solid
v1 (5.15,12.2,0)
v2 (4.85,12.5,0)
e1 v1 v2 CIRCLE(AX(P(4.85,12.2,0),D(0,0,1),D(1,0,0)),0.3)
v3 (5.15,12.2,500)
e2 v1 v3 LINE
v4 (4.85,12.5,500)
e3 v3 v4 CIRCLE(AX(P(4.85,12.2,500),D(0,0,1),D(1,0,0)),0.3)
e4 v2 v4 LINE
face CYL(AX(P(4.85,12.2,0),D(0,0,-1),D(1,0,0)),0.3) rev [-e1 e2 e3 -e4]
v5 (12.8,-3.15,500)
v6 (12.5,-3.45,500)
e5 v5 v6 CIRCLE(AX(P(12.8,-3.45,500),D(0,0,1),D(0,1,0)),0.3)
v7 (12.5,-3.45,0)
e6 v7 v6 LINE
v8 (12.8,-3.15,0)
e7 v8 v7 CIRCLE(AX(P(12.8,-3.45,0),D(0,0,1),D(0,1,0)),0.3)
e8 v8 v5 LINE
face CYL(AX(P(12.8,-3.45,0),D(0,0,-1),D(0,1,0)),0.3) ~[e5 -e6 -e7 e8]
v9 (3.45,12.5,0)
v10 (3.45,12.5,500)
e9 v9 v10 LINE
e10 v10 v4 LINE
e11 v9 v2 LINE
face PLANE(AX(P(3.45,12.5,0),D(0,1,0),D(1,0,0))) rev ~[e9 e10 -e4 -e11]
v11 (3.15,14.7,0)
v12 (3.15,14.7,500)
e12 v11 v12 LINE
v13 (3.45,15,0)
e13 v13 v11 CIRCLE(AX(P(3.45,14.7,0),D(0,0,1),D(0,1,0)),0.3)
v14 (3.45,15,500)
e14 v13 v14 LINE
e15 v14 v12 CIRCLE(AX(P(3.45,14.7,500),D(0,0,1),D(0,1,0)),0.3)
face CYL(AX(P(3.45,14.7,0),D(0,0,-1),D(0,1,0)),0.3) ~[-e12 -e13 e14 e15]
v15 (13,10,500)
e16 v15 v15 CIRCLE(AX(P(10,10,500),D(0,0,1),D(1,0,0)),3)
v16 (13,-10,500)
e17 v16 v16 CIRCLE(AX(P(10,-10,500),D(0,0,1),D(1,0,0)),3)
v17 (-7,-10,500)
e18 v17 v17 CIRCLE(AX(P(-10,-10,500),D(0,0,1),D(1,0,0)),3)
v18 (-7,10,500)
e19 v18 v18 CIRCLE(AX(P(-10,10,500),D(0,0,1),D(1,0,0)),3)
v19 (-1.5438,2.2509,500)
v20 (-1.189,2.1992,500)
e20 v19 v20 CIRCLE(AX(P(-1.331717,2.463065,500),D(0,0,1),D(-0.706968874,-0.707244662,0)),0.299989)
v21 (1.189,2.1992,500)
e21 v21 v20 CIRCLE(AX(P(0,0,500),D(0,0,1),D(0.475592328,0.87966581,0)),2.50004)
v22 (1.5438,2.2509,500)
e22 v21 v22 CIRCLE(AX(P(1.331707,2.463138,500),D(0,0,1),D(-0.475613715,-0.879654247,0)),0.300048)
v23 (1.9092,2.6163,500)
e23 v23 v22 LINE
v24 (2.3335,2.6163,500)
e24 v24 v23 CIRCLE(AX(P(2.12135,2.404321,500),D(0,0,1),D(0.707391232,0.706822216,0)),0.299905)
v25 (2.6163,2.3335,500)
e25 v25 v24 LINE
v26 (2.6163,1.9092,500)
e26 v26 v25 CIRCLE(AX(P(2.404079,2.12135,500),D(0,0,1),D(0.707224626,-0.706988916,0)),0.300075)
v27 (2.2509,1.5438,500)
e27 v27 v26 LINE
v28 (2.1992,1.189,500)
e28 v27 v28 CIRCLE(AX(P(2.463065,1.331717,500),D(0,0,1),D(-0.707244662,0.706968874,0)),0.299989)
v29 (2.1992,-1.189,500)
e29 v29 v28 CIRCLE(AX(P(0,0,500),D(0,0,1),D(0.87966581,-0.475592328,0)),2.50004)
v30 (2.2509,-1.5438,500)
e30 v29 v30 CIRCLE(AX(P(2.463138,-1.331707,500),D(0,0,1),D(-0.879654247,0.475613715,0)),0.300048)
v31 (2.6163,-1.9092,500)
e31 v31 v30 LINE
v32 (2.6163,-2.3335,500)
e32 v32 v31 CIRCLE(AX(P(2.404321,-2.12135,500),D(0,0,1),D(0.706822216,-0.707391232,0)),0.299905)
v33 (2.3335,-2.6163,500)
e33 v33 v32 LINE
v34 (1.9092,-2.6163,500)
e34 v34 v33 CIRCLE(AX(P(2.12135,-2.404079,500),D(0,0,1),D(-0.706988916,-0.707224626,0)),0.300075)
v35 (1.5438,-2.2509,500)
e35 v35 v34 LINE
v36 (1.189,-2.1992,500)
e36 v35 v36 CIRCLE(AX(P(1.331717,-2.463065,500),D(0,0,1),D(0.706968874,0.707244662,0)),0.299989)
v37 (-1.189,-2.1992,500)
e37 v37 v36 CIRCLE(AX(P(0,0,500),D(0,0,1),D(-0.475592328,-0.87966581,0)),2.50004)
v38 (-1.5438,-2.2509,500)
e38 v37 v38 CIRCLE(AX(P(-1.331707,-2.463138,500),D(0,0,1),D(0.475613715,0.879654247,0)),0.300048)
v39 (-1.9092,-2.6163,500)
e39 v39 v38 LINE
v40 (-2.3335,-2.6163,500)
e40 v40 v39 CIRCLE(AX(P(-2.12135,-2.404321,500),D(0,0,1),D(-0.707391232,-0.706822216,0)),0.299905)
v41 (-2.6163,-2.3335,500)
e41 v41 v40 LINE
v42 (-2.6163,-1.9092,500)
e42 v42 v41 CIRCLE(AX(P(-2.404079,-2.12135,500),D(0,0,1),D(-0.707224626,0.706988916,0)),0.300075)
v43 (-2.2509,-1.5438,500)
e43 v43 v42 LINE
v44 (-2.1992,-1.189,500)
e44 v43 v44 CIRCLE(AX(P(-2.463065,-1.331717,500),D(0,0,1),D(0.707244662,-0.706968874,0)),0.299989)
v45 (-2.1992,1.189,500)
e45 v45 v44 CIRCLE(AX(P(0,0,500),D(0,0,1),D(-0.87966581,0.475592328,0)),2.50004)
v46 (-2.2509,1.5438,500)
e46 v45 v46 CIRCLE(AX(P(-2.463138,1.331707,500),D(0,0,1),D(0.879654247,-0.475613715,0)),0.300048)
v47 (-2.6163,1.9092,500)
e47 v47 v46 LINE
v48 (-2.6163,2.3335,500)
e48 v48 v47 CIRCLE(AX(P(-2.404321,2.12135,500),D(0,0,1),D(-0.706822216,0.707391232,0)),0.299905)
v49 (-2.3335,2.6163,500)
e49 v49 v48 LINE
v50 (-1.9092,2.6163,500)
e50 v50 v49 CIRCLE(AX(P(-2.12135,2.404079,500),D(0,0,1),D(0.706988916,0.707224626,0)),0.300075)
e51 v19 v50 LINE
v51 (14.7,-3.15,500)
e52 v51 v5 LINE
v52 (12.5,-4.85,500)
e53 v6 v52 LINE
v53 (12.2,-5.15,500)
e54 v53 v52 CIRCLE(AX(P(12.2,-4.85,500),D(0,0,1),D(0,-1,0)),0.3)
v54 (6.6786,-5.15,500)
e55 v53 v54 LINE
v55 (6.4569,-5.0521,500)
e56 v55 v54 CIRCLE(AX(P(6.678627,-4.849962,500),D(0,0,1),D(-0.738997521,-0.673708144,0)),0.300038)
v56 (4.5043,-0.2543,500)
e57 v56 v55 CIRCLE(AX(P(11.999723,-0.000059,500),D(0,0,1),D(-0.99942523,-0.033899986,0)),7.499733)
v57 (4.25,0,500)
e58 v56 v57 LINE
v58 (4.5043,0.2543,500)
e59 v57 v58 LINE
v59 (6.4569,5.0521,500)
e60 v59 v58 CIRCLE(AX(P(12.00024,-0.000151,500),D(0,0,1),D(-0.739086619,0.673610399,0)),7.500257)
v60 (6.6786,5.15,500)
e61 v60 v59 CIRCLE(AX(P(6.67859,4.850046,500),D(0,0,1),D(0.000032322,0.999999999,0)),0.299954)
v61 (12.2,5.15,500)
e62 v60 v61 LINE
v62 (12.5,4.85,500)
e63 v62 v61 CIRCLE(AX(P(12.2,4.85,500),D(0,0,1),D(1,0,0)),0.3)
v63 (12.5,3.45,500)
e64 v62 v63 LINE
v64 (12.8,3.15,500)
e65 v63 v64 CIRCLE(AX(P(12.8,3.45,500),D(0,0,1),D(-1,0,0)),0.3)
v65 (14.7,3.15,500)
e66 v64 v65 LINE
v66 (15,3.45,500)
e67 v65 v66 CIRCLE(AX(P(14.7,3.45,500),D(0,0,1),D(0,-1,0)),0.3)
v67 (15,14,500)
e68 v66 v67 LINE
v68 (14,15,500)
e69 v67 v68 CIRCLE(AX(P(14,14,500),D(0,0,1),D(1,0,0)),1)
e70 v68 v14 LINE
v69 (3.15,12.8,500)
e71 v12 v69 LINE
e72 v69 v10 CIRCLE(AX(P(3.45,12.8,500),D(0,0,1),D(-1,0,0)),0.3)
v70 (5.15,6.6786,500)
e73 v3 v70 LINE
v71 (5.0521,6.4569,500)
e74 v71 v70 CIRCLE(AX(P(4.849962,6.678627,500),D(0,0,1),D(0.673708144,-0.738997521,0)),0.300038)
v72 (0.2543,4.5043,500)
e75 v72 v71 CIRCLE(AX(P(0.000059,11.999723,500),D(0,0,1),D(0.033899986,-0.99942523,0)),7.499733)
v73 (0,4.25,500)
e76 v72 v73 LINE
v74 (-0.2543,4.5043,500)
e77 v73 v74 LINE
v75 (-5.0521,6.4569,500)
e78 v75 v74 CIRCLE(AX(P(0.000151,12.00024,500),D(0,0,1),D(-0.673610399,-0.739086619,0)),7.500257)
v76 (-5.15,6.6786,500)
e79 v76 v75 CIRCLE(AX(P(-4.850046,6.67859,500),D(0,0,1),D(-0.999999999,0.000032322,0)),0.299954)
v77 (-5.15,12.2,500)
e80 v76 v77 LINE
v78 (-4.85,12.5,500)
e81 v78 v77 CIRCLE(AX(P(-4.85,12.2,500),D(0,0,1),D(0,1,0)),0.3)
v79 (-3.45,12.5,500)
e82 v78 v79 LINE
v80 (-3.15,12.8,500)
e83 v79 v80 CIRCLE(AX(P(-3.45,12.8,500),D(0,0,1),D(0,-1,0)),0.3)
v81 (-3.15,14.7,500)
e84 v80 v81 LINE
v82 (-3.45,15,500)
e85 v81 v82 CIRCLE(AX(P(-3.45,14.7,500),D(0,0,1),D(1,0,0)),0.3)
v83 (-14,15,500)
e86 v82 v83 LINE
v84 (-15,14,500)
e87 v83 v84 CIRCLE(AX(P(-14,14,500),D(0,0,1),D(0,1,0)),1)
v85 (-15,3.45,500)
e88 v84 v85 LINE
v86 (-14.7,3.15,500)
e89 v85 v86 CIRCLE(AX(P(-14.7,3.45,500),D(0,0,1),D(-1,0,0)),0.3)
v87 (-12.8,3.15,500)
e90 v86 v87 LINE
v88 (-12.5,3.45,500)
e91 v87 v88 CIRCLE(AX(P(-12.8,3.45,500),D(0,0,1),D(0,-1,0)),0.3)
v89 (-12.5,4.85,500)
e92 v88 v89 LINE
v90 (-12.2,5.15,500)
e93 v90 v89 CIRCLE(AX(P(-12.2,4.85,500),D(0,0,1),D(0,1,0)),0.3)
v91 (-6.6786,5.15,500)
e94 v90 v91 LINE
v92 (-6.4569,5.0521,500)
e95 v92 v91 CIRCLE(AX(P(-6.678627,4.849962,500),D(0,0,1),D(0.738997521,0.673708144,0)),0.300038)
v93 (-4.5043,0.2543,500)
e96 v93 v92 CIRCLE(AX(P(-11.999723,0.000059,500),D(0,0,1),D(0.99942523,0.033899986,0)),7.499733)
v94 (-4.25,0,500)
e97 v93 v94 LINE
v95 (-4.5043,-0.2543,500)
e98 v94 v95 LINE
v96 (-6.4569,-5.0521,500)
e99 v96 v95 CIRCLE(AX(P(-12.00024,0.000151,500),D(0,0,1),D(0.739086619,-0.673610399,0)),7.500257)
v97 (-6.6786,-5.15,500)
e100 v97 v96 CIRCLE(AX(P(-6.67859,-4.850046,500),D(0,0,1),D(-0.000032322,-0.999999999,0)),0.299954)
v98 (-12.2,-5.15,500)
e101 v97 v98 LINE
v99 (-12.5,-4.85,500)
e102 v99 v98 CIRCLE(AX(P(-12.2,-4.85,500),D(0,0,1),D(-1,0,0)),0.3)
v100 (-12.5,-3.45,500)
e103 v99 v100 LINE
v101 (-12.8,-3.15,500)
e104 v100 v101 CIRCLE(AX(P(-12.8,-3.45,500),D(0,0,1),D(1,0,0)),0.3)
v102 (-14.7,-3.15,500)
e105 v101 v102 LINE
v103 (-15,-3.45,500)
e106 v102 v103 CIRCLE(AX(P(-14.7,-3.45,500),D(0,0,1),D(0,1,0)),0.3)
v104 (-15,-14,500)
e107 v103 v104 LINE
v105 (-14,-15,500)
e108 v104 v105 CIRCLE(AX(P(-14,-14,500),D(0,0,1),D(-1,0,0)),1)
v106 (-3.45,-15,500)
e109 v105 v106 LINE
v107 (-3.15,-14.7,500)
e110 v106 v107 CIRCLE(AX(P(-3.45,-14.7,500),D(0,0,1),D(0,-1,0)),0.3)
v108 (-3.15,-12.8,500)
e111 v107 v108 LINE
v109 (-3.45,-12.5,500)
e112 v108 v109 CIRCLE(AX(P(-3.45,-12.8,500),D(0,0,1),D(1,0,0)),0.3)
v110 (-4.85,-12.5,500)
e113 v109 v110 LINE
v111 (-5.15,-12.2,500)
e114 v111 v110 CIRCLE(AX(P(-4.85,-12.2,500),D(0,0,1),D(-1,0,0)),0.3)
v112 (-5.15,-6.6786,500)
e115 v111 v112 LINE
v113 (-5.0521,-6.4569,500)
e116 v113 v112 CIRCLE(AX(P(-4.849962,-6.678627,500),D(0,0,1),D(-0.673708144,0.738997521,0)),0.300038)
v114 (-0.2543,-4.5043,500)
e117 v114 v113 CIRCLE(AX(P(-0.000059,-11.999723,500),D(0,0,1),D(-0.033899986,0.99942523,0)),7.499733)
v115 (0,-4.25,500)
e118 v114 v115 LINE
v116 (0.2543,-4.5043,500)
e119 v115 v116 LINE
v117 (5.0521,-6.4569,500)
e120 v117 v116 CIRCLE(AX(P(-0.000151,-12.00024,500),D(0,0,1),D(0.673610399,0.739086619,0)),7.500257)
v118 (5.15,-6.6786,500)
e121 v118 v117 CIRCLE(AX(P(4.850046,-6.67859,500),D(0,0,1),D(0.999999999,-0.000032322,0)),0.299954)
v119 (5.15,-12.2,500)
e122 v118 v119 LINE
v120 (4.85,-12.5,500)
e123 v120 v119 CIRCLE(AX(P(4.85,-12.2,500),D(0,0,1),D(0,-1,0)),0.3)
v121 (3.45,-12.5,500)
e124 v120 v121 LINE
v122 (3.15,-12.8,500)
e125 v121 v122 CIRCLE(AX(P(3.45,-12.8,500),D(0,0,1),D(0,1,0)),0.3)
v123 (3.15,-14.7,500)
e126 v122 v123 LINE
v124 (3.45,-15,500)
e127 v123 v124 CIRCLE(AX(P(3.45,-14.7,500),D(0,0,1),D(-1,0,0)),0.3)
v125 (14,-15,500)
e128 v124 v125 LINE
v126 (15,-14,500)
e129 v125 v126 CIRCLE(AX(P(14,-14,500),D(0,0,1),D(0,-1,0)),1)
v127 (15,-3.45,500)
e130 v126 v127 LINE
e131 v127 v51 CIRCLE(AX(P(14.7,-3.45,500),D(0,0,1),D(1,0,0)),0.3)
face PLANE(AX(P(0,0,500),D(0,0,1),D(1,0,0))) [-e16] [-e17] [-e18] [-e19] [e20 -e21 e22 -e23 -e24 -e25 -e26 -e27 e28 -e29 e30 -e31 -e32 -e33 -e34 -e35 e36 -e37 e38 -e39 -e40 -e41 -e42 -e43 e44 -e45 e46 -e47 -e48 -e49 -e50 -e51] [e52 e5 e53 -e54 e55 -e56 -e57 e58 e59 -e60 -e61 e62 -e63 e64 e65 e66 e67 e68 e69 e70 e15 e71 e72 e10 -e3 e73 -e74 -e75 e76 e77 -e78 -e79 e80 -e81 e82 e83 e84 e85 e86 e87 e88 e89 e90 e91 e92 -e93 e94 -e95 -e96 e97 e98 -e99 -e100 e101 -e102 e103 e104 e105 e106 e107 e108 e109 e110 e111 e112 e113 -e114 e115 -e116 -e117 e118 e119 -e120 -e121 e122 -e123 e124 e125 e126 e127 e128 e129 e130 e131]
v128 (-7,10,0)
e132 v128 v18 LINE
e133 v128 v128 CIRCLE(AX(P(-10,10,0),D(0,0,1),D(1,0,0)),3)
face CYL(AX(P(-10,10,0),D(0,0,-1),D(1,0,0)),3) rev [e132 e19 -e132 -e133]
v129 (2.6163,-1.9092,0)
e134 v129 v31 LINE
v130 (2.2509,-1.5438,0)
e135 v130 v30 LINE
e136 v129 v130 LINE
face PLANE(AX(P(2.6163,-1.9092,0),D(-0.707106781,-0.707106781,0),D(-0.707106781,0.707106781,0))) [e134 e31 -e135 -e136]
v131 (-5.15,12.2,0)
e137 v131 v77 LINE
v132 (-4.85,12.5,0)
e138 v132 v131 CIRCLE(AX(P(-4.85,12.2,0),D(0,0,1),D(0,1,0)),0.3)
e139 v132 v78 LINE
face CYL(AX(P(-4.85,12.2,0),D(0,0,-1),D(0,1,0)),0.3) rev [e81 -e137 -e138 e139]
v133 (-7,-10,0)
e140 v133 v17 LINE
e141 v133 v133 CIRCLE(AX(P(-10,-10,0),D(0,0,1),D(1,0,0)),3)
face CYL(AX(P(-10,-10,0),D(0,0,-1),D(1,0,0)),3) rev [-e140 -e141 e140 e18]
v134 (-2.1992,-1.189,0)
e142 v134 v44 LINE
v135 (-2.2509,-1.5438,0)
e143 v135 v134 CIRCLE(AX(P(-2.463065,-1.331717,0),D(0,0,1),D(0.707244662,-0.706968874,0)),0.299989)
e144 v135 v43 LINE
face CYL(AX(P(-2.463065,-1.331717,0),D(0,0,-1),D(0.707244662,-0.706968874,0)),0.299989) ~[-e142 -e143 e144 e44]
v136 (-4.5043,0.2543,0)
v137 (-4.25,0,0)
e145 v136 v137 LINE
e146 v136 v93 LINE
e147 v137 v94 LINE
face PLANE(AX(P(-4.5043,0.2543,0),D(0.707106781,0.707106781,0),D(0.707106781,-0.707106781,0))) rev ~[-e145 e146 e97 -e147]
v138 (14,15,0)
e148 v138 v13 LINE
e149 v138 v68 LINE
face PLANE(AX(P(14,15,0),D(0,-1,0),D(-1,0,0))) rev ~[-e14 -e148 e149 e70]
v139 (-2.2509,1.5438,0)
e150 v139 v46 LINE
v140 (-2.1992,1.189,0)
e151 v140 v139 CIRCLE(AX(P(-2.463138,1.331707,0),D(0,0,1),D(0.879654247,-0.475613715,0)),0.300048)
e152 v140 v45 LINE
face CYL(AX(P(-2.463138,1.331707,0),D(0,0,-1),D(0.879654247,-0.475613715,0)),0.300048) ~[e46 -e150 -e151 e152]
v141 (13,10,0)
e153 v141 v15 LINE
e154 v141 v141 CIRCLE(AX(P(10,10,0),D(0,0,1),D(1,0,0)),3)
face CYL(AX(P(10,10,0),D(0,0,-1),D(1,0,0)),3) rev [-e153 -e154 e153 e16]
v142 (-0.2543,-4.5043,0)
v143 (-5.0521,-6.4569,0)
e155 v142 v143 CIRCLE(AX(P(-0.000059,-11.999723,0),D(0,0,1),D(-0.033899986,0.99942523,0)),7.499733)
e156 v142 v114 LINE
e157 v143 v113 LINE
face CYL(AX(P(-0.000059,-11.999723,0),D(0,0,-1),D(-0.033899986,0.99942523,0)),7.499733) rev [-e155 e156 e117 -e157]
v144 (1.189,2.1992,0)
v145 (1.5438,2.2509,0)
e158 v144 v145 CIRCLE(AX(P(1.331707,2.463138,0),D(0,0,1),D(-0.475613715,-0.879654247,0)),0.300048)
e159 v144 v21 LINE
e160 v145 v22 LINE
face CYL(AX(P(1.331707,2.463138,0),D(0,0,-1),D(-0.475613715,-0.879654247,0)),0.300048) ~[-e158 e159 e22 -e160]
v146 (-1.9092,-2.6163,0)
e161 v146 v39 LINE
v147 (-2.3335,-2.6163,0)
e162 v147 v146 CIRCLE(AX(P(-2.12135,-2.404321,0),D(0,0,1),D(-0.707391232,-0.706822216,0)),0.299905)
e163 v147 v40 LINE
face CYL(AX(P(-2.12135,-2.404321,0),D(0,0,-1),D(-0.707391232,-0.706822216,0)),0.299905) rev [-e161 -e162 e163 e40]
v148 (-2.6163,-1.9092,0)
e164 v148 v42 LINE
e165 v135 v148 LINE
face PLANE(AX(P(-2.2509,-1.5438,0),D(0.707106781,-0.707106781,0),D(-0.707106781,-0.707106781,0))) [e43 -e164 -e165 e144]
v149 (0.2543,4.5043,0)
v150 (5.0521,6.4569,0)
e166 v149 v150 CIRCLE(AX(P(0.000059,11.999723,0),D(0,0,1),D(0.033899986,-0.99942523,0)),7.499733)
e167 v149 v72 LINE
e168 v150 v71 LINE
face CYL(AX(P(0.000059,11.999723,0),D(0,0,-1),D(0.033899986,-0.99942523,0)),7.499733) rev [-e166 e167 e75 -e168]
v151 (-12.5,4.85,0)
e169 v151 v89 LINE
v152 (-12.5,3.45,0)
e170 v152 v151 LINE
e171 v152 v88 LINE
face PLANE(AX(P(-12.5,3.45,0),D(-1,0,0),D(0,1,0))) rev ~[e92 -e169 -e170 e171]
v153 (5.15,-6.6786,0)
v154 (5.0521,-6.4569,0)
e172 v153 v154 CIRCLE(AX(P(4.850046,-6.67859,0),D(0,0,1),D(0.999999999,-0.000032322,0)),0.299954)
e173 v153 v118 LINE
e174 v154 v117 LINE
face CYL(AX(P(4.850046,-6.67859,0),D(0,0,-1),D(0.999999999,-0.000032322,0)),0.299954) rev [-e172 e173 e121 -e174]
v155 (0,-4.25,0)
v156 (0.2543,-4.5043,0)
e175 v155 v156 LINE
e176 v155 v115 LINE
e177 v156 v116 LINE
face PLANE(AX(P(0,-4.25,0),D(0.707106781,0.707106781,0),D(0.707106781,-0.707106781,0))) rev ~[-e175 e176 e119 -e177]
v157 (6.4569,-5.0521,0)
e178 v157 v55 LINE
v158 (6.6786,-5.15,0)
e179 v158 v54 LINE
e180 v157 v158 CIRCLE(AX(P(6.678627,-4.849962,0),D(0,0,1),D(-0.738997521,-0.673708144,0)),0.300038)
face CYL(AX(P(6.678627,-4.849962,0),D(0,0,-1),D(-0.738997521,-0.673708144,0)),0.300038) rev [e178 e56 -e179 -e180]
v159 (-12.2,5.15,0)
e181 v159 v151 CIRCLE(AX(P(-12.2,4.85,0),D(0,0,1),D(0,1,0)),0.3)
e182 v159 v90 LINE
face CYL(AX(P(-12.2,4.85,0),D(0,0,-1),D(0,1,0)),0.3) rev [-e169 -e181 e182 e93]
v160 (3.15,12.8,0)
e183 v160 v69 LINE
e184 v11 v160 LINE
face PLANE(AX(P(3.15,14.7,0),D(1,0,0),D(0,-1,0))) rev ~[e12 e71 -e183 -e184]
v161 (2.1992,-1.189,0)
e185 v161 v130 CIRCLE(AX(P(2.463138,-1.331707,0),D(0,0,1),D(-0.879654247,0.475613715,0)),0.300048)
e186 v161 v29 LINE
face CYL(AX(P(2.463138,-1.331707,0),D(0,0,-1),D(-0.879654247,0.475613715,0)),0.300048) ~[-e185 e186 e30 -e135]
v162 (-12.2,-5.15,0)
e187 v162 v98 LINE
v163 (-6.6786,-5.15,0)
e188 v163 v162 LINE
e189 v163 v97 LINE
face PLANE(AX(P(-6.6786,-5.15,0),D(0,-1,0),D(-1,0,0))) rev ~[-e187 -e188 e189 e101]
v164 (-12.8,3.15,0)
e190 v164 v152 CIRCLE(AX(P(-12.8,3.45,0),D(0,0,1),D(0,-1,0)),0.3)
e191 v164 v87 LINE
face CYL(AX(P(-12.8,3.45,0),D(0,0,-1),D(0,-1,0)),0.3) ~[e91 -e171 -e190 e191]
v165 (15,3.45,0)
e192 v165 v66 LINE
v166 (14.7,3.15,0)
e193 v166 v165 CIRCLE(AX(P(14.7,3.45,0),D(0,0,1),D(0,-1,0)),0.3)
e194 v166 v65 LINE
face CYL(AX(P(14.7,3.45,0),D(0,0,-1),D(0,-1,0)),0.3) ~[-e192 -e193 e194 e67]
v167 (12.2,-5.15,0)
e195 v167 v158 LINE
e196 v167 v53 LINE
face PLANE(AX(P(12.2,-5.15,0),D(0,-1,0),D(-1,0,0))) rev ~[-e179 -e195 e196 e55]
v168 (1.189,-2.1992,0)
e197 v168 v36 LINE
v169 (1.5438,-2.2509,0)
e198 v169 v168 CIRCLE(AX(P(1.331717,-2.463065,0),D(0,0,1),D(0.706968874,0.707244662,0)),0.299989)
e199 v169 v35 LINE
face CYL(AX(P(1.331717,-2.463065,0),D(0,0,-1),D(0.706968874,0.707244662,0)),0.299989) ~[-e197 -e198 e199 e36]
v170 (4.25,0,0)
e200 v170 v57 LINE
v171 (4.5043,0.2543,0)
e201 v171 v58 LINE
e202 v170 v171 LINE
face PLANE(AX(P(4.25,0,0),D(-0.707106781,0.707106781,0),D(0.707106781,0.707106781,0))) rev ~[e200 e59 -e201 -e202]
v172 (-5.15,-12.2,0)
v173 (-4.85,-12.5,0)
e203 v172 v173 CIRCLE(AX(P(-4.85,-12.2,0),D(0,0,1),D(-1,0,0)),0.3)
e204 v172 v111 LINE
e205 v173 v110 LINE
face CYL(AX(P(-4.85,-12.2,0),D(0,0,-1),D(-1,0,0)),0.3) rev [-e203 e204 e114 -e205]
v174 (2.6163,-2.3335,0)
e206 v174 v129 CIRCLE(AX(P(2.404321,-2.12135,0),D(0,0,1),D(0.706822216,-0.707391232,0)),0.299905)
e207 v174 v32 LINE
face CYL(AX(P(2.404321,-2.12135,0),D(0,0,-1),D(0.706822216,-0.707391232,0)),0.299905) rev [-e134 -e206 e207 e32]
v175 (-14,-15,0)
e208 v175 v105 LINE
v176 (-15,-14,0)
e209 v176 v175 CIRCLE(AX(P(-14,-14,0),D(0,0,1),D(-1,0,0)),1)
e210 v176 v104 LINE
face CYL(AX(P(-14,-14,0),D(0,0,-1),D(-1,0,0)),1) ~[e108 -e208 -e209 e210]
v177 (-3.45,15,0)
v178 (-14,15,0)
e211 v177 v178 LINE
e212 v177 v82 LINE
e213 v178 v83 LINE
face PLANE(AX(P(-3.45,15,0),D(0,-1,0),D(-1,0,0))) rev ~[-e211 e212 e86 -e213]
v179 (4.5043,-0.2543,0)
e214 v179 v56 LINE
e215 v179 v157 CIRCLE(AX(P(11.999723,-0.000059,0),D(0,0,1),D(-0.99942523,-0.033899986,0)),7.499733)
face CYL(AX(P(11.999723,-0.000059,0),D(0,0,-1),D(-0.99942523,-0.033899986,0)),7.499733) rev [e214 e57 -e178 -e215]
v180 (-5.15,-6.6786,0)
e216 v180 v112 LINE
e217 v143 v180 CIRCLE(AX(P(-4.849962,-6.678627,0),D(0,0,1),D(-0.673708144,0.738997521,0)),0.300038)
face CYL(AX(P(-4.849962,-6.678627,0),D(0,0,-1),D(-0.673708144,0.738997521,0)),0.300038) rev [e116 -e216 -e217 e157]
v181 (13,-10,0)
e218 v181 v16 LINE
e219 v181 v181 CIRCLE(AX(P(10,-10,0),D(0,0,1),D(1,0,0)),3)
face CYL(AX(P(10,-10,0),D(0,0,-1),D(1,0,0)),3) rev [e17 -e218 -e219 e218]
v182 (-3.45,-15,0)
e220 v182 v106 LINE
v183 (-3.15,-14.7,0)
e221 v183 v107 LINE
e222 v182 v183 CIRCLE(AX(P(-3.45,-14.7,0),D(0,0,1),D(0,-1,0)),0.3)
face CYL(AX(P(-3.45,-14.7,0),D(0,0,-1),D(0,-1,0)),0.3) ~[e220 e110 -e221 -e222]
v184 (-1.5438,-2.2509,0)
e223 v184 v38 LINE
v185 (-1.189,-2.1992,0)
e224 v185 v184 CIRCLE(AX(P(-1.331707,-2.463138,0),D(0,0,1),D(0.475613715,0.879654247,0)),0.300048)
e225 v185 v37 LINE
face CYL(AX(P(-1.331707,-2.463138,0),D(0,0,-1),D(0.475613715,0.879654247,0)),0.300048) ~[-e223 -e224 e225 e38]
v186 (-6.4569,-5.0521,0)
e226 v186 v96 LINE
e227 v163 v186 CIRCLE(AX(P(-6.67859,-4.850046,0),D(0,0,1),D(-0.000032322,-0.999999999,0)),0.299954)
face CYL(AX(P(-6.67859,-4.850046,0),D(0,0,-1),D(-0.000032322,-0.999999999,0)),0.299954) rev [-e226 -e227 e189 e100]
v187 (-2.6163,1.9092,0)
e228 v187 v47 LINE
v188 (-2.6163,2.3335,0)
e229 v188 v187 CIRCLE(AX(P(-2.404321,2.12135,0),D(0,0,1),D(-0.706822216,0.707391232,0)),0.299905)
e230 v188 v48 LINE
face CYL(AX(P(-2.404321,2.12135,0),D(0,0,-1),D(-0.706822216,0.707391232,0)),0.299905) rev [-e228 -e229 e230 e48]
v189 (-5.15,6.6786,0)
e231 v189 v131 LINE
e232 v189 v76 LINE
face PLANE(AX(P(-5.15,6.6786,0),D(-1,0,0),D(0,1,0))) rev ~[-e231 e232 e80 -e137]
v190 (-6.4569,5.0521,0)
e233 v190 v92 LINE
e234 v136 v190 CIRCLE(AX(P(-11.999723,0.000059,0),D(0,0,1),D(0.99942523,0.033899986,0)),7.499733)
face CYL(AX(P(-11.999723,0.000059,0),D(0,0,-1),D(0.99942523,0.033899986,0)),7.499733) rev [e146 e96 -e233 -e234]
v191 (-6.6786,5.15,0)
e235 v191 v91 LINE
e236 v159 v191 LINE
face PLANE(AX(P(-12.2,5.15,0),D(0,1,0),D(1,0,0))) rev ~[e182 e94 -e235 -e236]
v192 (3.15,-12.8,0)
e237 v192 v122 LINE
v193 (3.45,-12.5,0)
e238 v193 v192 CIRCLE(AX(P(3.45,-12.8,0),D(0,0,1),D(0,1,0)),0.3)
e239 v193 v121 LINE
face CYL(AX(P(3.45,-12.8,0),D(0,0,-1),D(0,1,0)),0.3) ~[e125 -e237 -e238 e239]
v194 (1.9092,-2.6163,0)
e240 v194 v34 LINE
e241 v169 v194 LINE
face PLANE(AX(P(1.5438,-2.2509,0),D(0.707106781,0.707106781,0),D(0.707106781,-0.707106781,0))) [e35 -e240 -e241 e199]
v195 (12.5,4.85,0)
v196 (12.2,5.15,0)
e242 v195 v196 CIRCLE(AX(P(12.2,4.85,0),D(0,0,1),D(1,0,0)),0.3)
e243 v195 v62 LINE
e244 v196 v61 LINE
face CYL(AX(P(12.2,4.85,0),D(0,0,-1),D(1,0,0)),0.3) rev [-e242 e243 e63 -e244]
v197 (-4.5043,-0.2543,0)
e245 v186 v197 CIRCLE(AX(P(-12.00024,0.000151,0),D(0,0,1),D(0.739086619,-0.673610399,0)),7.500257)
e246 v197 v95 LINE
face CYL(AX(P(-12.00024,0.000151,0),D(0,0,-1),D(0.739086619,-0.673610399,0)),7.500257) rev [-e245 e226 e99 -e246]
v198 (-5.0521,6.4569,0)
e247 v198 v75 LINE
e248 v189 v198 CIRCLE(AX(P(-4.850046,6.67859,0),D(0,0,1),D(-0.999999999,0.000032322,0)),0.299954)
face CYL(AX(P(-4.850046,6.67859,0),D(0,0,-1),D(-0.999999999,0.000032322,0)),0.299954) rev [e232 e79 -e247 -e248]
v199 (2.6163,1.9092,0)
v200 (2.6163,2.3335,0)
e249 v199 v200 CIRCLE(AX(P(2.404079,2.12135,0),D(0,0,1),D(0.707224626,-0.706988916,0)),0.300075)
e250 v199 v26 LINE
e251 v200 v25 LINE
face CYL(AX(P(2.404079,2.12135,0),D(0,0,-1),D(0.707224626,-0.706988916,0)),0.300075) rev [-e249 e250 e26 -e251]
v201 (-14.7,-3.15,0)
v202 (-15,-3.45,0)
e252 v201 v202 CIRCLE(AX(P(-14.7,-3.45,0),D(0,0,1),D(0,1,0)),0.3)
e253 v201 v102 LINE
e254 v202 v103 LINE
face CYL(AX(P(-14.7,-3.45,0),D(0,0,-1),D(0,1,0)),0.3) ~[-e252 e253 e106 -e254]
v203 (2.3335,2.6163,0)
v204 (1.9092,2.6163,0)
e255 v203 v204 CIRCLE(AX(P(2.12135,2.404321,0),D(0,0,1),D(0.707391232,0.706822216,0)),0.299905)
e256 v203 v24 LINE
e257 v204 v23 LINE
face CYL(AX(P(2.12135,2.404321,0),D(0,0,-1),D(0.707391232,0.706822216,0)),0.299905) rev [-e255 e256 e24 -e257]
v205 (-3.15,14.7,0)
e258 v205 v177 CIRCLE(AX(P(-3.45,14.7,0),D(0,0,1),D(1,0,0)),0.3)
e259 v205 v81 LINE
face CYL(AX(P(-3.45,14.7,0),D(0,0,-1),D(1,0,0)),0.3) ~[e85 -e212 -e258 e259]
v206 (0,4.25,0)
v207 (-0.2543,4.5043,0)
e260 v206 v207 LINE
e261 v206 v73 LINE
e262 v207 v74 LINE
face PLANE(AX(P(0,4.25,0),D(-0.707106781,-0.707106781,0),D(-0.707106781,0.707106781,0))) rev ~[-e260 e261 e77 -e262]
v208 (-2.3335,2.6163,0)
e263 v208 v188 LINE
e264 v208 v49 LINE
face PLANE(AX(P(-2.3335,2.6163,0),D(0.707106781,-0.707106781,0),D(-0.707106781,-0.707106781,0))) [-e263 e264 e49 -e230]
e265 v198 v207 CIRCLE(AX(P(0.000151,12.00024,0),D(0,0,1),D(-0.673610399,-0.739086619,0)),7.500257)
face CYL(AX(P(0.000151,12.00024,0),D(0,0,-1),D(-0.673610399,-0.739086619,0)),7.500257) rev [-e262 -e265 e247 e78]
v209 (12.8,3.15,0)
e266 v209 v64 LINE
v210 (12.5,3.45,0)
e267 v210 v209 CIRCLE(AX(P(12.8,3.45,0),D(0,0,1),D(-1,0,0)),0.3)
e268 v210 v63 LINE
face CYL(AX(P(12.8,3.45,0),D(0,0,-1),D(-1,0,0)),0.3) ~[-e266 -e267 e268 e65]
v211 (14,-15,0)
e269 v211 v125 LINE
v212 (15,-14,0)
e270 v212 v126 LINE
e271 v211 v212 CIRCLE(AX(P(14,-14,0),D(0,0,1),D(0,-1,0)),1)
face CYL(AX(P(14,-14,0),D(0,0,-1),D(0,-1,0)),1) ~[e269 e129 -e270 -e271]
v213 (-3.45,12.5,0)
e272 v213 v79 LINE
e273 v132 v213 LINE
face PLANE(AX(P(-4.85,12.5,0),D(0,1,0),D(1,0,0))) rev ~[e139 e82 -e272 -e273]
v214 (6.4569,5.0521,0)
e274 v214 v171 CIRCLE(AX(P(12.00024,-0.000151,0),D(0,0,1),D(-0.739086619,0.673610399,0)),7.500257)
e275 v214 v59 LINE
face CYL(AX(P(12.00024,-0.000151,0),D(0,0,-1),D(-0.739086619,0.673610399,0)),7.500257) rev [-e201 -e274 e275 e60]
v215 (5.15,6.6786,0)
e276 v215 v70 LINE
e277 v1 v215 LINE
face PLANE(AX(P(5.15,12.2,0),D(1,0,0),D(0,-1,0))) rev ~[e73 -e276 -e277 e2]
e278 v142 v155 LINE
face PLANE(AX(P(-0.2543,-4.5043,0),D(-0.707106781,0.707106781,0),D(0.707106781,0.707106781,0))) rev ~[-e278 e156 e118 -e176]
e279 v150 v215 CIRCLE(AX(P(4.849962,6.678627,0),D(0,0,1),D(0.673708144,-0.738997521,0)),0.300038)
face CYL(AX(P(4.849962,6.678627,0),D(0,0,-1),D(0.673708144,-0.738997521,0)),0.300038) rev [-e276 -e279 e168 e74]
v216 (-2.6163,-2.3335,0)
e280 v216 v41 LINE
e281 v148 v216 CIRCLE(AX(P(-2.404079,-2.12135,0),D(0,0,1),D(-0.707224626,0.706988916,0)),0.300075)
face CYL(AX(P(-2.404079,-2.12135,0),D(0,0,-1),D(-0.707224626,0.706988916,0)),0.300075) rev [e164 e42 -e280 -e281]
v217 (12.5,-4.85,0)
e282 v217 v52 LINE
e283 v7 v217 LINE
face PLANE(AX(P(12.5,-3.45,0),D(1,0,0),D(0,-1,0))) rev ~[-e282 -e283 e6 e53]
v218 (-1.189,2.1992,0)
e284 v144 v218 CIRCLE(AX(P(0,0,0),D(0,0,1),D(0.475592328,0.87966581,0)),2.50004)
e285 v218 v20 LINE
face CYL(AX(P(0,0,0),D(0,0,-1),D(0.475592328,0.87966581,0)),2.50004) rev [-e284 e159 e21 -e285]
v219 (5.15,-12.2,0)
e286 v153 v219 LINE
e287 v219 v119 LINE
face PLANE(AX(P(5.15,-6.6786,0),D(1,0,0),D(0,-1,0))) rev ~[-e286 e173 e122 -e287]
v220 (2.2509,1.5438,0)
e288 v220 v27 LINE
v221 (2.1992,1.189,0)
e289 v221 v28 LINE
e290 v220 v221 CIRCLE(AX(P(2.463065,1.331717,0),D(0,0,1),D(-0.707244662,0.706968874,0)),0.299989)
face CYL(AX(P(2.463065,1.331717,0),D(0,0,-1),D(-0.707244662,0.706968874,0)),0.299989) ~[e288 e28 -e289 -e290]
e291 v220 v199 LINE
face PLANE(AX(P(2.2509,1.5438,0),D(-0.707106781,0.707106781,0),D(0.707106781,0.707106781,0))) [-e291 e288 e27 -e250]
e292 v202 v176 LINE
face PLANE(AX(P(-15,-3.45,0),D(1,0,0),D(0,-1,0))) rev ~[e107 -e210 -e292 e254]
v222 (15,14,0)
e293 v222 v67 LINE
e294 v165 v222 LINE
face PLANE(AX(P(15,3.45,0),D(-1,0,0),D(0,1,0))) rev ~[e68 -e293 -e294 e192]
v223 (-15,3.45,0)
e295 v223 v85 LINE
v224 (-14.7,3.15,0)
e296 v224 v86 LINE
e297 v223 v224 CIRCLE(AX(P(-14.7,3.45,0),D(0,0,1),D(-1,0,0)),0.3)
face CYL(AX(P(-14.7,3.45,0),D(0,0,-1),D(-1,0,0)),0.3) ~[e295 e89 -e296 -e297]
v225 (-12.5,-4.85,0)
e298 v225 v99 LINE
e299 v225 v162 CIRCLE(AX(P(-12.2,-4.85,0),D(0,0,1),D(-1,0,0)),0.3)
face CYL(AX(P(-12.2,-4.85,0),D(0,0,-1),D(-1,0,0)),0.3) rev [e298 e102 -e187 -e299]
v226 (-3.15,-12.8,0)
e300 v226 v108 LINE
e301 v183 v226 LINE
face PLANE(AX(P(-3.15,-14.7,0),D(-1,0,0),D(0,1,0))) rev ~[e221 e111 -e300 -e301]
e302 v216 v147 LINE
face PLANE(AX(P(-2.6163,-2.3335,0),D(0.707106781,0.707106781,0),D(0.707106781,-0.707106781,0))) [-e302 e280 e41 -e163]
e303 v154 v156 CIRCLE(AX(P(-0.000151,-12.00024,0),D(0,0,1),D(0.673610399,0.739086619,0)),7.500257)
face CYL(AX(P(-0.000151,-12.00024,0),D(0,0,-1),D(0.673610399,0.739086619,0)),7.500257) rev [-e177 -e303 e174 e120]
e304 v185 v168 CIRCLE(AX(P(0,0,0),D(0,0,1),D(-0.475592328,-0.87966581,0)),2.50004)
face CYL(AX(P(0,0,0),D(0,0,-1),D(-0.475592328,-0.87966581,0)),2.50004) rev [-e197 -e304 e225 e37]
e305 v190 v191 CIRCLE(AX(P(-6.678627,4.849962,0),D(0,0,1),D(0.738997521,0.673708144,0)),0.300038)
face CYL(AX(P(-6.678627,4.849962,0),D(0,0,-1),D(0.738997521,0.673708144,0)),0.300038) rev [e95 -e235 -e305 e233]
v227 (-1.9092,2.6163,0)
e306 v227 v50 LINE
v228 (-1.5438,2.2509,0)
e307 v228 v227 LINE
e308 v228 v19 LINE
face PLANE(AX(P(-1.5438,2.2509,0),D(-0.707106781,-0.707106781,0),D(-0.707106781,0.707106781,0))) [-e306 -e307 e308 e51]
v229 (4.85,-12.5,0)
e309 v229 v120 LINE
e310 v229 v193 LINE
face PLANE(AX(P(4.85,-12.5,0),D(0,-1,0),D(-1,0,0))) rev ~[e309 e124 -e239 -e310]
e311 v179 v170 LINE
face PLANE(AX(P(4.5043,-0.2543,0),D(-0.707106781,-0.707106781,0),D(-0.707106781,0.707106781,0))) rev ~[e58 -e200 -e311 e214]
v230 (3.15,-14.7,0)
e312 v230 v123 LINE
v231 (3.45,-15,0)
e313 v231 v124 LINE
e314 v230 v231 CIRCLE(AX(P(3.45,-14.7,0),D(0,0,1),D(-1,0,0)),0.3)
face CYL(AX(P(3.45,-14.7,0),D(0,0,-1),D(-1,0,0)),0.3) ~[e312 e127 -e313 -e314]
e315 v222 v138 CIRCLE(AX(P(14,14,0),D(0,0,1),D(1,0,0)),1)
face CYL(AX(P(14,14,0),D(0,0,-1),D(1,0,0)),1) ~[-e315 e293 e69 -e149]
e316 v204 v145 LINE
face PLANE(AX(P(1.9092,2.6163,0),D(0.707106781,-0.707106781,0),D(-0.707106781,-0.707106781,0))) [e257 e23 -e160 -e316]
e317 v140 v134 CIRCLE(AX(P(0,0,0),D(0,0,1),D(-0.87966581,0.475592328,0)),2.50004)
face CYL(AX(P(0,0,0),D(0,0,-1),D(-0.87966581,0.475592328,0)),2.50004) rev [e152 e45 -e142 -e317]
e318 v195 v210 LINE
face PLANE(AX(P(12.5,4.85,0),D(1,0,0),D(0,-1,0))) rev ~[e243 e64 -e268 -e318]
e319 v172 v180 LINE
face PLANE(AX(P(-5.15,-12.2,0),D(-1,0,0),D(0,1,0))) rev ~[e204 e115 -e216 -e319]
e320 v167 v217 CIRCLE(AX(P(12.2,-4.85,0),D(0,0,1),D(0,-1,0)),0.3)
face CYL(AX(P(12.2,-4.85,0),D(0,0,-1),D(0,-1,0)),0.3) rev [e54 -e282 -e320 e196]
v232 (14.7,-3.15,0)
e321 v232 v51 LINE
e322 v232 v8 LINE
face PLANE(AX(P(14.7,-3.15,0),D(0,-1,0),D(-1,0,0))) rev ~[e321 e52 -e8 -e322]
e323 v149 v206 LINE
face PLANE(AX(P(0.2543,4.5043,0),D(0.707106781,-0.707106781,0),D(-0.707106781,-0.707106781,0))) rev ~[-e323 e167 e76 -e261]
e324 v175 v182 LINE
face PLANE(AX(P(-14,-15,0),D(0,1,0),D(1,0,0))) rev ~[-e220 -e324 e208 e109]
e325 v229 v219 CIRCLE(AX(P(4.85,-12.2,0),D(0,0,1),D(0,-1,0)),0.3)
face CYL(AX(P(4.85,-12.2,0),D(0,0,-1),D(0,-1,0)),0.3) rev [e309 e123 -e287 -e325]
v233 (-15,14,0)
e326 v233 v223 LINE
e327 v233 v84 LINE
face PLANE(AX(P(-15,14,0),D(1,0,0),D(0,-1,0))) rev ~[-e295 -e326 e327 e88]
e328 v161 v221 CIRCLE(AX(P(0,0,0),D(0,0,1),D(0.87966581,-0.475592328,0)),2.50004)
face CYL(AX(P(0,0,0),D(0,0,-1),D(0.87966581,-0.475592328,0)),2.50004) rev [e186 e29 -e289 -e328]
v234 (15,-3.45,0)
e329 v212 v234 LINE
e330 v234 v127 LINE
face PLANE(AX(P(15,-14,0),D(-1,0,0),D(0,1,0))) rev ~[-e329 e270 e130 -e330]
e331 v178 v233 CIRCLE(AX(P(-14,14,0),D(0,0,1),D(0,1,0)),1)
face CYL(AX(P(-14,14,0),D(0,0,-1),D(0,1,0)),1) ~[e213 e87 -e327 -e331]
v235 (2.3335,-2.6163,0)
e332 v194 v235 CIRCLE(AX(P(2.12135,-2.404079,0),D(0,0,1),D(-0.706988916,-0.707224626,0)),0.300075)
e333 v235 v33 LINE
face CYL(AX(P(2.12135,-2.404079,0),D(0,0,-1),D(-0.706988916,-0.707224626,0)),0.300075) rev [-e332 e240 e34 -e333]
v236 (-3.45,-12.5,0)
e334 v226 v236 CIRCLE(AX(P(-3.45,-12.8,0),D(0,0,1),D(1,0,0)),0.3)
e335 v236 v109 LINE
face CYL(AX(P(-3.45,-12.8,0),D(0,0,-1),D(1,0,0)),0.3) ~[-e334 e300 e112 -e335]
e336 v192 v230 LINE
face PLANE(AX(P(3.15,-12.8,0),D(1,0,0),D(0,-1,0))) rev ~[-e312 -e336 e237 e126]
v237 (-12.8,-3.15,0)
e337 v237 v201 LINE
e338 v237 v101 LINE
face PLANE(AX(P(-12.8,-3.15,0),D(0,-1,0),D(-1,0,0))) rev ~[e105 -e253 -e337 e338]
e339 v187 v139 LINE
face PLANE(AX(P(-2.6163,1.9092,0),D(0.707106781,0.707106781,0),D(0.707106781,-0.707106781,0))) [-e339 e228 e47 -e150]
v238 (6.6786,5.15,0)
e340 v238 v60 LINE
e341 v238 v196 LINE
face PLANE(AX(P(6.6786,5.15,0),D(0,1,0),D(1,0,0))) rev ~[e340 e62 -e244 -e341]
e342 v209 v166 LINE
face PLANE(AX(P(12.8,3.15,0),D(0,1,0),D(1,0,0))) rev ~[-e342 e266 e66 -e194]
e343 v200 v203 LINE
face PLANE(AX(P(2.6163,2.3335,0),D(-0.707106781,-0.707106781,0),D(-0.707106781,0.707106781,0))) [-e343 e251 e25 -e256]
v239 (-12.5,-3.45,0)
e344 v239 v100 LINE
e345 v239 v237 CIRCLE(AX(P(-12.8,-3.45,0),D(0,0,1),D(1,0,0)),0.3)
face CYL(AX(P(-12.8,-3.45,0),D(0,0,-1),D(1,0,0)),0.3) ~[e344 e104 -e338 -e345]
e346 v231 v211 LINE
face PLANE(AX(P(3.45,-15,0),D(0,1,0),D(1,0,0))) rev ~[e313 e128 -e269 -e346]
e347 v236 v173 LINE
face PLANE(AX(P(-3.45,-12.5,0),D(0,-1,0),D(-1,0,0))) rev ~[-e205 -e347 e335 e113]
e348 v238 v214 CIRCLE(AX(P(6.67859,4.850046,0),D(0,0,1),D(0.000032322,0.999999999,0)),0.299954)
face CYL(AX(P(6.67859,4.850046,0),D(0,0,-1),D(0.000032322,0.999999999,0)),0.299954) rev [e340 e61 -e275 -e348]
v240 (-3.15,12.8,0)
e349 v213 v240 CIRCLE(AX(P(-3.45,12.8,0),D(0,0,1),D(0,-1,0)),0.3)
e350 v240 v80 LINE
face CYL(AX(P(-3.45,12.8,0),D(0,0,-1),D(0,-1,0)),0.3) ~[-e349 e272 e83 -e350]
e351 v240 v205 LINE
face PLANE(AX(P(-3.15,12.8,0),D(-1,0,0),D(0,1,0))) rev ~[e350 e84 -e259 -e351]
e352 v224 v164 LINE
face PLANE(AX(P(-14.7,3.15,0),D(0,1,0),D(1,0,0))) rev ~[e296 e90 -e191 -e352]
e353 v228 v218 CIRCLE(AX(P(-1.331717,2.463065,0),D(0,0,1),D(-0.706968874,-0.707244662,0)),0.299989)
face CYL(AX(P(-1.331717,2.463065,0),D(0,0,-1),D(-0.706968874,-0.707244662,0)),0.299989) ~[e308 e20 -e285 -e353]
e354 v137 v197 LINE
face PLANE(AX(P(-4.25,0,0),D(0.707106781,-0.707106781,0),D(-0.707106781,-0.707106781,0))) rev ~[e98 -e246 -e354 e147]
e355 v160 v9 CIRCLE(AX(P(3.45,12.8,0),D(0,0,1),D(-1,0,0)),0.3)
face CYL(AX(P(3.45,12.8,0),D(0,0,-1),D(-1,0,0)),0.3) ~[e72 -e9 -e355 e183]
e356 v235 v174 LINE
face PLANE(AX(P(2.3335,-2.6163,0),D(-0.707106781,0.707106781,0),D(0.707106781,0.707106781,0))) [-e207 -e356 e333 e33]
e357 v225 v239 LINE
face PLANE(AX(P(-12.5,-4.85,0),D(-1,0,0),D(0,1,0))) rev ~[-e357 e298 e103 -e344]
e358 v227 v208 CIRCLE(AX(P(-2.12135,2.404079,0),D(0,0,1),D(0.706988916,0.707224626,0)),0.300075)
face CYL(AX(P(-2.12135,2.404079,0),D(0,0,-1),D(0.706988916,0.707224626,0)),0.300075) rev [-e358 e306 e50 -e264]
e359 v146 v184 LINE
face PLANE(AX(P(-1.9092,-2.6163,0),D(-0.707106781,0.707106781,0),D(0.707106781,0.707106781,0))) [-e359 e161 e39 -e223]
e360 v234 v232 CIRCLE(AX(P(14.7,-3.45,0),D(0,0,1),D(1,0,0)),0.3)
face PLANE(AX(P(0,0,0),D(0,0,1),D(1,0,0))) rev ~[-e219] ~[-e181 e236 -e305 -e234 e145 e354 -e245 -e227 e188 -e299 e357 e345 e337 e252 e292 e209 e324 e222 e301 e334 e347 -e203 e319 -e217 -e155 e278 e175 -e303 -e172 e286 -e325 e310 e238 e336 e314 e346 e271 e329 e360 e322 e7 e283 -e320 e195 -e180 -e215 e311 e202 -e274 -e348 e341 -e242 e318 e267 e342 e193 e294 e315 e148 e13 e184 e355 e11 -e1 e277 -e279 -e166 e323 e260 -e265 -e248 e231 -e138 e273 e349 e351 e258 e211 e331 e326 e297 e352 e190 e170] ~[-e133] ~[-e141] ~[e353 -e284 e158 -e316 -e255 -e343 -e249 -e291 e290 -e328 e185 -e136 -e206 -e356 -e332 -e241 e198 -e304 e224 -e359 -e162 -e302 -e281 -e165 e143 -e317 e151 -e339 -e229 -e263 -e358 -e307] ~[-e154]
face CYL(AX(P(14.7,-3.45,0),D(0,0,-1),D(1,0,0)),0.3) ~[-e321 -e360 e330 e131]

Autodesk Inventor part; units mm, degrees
ref_plane "YZ Plane" through (0, 0, 0) normal (1, 0, 0) x (0, 1, 0)
ref_plane "XZ Plane" through (0, 0, 0) normal (0, 1, 0) x (-1, 0, 0)
ref_plane "XY Plane" through (0, 0, 0) normal (0, 0, 1) x (1, 0, 0)
sketch "스케치1" plane through (0, 0, 0) normal (0, 0, 1) x (1, 0, 0)
  line L0 (14.7, -3.15) -> (12.8, -3.15)
  arc A0 (12.8, -3.15) -> (12.5, -3.45) centre (12.8, -3.45) ccw
  line L1 (12.5, -3.45) -> (12.5, -4.85)
  arc A1 (12.2, -5.15) -> (12.5, -4.85) centre (12.2, -4.85) ccw
  line L2 (12.2, -5.15) -> (6.6786, -5.15)
  arc A2 (6.4569, -5.0521) -> (6.6786, -5.15) centre (6.6786, -4.85) ccw
  arc A3 (4.5043, -0.2543) -> (6.4569, -5.0521) centre (12, 0) ccw
  line L3 (4.5043, -0.2543) -> (4.25, 0)
  line L4 (4.25, 0) -> (4.5043, 0.2543)
  arc A4 (6.4569, 5.0521) -> (4.5043, 0.2543) centre (12, 0) ccw
  arc A5 (6.6786, 5.15) -> (6.4569, 5.0521) centre (6.6786, 4.85) ccw
  line L5 (6.6786, 5.15) -> (12.2, 5.15)
  arc A6 (12.5, 4.85) -> (12.2, 5.15) centre (12.2, 4.85) ccw
  line L6 (12.5, 4.85) -> (12.5, 3.45)
  arc A7 (12.5, 3.45) -> (12.8, 3.15) centre (12.8, 3.45) ccw
  line L7 (12.8, 3.15) -> (14.7, 3.15)
  arc A8 (14.7, 3.15) -> (15, 3.45) centre (14.7, 3.45) ccw
  line L8 (15, 3.45) -> (15, 14)
  arc A9 (15, 14) -> (14, 15) centre (14, 14) ccw
  line L9 (14, 15) -> (3.45, 15)
  arc A10 (3.45, 15) -> (3.15, 14.7) centre (3.45, 14.7) ccw
  line L10 (3.15, 14.7) -> (3.15, 12.8)
  arc A11 (3.15, 12.8) -> (3.45, 12.5) centre (3.45, 12.8) ccw
  line L11 (3.45, 12.5) -> (4.85, 12.5)
  arc A12 (5.15, 12.2) -> (4.85, 12.5) centre (4.85, 12.2) ccw
  line L12 (5.15, 12.2) -> (5.15, 6.6786)
  arc A13 (5.0521, 6.4569) -> (5.15, 6.6786) centre (4.85, 6.6786) ccw
  arc A14 (0.2543, 4.5043) -> (5.0521, 6.4569) centre (0, 12) ccw
  line L13 (0.2543, 4.5043) -> (0, 4.25)
  line L14 (0, 4.25) -> (-0.2543, 4.5043)
  arc A15 (-5.0521, 6.4569) -> (-0.2543, 4.5043) centre (0, 12) ccw
  arc A16 (-5.15, 6.6786) -> (-5.0521, 6.4569) centre (-4.85, 6.6786) ccw
  line L15 (-5.15, 6.6786) -> (-5.15, 12.2)
  arc A17 (-4.85, 12.5) -> (-5.15, 12.2) centre (-4.85, 12.2) ccw
  line L16 (-4.85, 12.5) -> (-3.45, 12.5)
  arc A18 (-3.45, 12.5) -> (-3.15, 12.8) centre (-3.45, 12.8) ccw
  line L17 (-3.15, 12.8) -> (-3.15, 14.7)
  arc A19 (-3.15, 14.7) -> (-3.45, 15) centre (-3.45, 14.7) ccw
  line L18 (-3.45, 15) -> (-14, 15)
  arc A20 (-14, 15) -> (-15, 14) centre (-14, 14) ccw
  line L19 (-15, 14) -> (-15, 3.45)
  arc A21 (-15, 3.45) -> (-14.7, 3.15) centre (-14.7, 3.45) ccw
  line L20 (-14.7, 3.15) -> (-12.8, 3.15)
  arc A22 (-12.8, 3.15) -> (-12.5, 3.45) centre (-12.8, 3.45) ccw
  line L21 (-12.5, 3.45) -> (-12.5, 4.85)
  arc A23 (-12.2, 5.15) -> (-12.5, 4.85) centre (-12.2, 4.85) ccw
  line L22 (-12.2, 5.15) -> (-6.6786, 5.15)
  arc A24 (-6.4569, 5.0521) -> (-6.6786, 5.15) centre (-6.6786, 4.85) ccw
  arc A25 (-4.5043, 0.2543) -> (-6.4569, 5.0521) centre (-12, 0) ccw
  line L23 (-4.5043, 0.2543) -> (-4.25, 0)
  line L24 (-4.25, 0) -> (-4.5043, -0.2543)
  arc A26 (-6.4569, -5.0521) -> (-4.5043, -0.2543) centre (-12, 0) ccw
  arc A27 (-6.6786, -5.15) -> (-6.4569, -5.0521) centre (-6.6786, -4.85) ccw
  line L25 (-6.6786, -5.15) -> (-12.2, -5.15)
  arc A28 (-12.5, -4.85) -> (-12.2, -5.15) centre (-12.2, -4.85) ccw
  line L26 (-12.5, -4.85) -> (-12.5, -3.45)
  arc A29 (-12.5, -3.45) -> (-12.8, -3.15) centre (-12.8, -3.45) ccw
  line L27 (-12.8, -3.15) -> (-14.7, -3.15)
  arc A30 (-14.7, -3.15) -> (-15, -3.45) centre (-14.7, -3.45) ccw
  line L28 (-15, -3.45) -> (-15, -14)
  arc A31 (-15, -14) -> (-14, -15) centre (-14, -14) ccw
  line L29 (-14, -15) -> (-3.45, -15)
  arc A32 (-3.45, -15) -> (-3.15, -14.7) centre (-3.45, -14.7) ccw
  line L30 (-3.15, -14.7) -> (-3.15, -12.8)
  arc A33 (-3.15, -12.8) -> (-3.45, -12.5) centre (-3.45, -12.8) ccw
  line L31 (-3.45, -12.5) -> (-4.85, -12.5)
  arc A34 (-5.15, -12.2) -> (-4.85, -12.5) centre (-4.85, -12.2) ccw
  line L32 (-5.15, -12.2) -> (-5.15, -6.6786)
  arc A35 (-5.0521, -6.4569) -> (-5.15, -6.6786) centre (-4.85, -6.6786) ccw
  arc A36 (-0.2543, -4.5043) -> (-5.0521, -6.4569) centre (0, -12) ccw
  line L33 (-0.2543, -4.5043) -> (0, -4.25)
  line L34 (0, -4.25) -> (0.2543, -4.5043)
  arc A37 (5.0521, -6.4569) -> (0.2543, -4.5043) centre (0, -12) ccw
  arc A38 (5.15, -6.6786) -> (5.0521, -6.4569) centre (4.85, -6.6786) ccw
  line L35 (5.15, -6.6786) -> (5.15, -12.2)
  arc A39 (4.85, -12.5) -> (5.15, -12.2) centre (4.85, -12.2) ccw
  line L36 (4.85, -12.5) -> (3.45, -12.5)
  arc A40 (3.45, -12.5) -> (3.15, -12.8) centre (3.45, -12.8) ccw
  line L37 (3.15, -12.8) -> (3.15, -14.7)
  arc A41 (3.15, -14.7) -> (3.45, -15) centre (3.45, -14.7) ccw
  line L38 (3.45, -15) -> (14, -15)
  arc A42 (14, -15) -> (15, -14) centre (14, -14) ccw
  line L39 (15, -14) -> (15, -3.45)
  arc A43 (15, -3.45) -> (14.7, -3.15) centre (14.7, -3.45) ccw
  arc A44 (-1.189, -2.1992) -> (1.189, -2.1992) centre (0, 0) ccw
  arc A45 (1.5438, -2.2509) -> (1.189, -2.1992) centre (1.3317, -2.4631) ccw
  line L40 (1.5438, -2.2509) -> (1.9092, -2.6163)
  arc A46 (1.9092, -2.6163) -> (2.3335, -2.6163) centre (2.1213, -2.4042) ccw
  line L41 (2.3335, -2.6163) -> (2.6163, -2.3335)
  arc A47 (2.6163, -2.3335) -> (2.6163, -1.9092) centre (2.4042, -2.1213) ccw
  line L42 (2.6163, -1.9092) -> (2.2509, -1.5438)
  arc A48 (2.1992, -1.189) -> (2.2509, -1.5438) centre (2.4631, -1.3317) ccw
  arc A49 (2.1992, -1.189) -> (2.1992, 1.189) centre (0, 0) ccw
  arc A50 (2.2509, 1.5438) -> (2.1992, 1.189) centre (2.4631, 1.3317) ccw
  line L43 (2.2509, 1.5438) -> (2.6163, 1.9092)
  arc A51 (2.6163, 1.9092) -> (2.6163, 2.3335) centre (2.4042, 2.1213) ccw
  line L44 (2.6163, 2.3335) -> (2.3335, 2.6163)
  arc A52 (2.3335, 2.6163) -> (1.9092, 2.6163) centre (2.1213, 2.4042) ccw
  line L45 (1.9092, 2.6163) -> (1.5438, 2.2509)
  arc A53 (1.189, 2.1992) -> (1.5438, 2.2509) centre (1.3317, 2.4631) ccw
  arc A54 (1.189, 2.1992) -> (-1.189, 2.1992) centre (0, 0) ccw
  arc A55 (-1.5438, 2.2509) -> (-1.189, 2.1992) centre (-1.3317, 2.4631) ccw
  line L46 (-1.5438, 2.2509) -> (-1.9092, 2.6163)
  arc A56 (-1.9092, 2.6163) -> (-2.3335, 2.6163) centre (-2.1213, 2.4042) ccw
  line L47 (-2.3335, 2.6163) -> (-2.6163, 2.3335)
  arc A57 (-2.6163, 2.3335) -> (-2.6163, 1.9092) centre (-2.4042, 2.1213) ccw
  line L48 (-2.6163, 1.9092) -> (-2.2509, 1.5438)
  arc A58 (-2.1992, 1.189) -> (-2.2509, 1.5438) centre (-2.4631, 1.3317) ccw
  arc A59 (-2.1992, 1.189) -> (-2.1992, -1.189) centre (0, 0) ccw
  arc A60 (-2.2509, -1.5438) -> (-2.1992, -1.189) centre (-2.4631, -1.3317) ccw
  line L49 (-2.2509, -1.5438) -> (-2.6163, -1.9092)
  arc A61 (-2.6163, -1.9092) -> (-2.6163, -2.3335) centre (-2.4042, -2.1213) ccw
  line L50 (-2.6163, -2.3335) -> (-2.3335, -2.6163)
  arc A62 (-2.3335, -2.6163) -> (-1.9092, -2.6163) centre (-2.1213, -2.4042) ccw
  line L51 (-1.9092, -2.6163) -> (-1.5438, -2.2509)
  arc A63 (-1.189, -2.1992) -> (-1.5438, -2.2509) centre (-1.3317, -2.4631) ccw
  circle A64 centre (10, -10) radius 3
  circle A65 centre (10, 10) radius 3
  circle A66 centre (-10, -10) radius 3
  circle A67 centre (-10, 10) radius 3
  point P0 (0, 0)
extrude "돌출1" add sketch "스케치1" along normal blind 500
properties part number "daeyoung_profile"
